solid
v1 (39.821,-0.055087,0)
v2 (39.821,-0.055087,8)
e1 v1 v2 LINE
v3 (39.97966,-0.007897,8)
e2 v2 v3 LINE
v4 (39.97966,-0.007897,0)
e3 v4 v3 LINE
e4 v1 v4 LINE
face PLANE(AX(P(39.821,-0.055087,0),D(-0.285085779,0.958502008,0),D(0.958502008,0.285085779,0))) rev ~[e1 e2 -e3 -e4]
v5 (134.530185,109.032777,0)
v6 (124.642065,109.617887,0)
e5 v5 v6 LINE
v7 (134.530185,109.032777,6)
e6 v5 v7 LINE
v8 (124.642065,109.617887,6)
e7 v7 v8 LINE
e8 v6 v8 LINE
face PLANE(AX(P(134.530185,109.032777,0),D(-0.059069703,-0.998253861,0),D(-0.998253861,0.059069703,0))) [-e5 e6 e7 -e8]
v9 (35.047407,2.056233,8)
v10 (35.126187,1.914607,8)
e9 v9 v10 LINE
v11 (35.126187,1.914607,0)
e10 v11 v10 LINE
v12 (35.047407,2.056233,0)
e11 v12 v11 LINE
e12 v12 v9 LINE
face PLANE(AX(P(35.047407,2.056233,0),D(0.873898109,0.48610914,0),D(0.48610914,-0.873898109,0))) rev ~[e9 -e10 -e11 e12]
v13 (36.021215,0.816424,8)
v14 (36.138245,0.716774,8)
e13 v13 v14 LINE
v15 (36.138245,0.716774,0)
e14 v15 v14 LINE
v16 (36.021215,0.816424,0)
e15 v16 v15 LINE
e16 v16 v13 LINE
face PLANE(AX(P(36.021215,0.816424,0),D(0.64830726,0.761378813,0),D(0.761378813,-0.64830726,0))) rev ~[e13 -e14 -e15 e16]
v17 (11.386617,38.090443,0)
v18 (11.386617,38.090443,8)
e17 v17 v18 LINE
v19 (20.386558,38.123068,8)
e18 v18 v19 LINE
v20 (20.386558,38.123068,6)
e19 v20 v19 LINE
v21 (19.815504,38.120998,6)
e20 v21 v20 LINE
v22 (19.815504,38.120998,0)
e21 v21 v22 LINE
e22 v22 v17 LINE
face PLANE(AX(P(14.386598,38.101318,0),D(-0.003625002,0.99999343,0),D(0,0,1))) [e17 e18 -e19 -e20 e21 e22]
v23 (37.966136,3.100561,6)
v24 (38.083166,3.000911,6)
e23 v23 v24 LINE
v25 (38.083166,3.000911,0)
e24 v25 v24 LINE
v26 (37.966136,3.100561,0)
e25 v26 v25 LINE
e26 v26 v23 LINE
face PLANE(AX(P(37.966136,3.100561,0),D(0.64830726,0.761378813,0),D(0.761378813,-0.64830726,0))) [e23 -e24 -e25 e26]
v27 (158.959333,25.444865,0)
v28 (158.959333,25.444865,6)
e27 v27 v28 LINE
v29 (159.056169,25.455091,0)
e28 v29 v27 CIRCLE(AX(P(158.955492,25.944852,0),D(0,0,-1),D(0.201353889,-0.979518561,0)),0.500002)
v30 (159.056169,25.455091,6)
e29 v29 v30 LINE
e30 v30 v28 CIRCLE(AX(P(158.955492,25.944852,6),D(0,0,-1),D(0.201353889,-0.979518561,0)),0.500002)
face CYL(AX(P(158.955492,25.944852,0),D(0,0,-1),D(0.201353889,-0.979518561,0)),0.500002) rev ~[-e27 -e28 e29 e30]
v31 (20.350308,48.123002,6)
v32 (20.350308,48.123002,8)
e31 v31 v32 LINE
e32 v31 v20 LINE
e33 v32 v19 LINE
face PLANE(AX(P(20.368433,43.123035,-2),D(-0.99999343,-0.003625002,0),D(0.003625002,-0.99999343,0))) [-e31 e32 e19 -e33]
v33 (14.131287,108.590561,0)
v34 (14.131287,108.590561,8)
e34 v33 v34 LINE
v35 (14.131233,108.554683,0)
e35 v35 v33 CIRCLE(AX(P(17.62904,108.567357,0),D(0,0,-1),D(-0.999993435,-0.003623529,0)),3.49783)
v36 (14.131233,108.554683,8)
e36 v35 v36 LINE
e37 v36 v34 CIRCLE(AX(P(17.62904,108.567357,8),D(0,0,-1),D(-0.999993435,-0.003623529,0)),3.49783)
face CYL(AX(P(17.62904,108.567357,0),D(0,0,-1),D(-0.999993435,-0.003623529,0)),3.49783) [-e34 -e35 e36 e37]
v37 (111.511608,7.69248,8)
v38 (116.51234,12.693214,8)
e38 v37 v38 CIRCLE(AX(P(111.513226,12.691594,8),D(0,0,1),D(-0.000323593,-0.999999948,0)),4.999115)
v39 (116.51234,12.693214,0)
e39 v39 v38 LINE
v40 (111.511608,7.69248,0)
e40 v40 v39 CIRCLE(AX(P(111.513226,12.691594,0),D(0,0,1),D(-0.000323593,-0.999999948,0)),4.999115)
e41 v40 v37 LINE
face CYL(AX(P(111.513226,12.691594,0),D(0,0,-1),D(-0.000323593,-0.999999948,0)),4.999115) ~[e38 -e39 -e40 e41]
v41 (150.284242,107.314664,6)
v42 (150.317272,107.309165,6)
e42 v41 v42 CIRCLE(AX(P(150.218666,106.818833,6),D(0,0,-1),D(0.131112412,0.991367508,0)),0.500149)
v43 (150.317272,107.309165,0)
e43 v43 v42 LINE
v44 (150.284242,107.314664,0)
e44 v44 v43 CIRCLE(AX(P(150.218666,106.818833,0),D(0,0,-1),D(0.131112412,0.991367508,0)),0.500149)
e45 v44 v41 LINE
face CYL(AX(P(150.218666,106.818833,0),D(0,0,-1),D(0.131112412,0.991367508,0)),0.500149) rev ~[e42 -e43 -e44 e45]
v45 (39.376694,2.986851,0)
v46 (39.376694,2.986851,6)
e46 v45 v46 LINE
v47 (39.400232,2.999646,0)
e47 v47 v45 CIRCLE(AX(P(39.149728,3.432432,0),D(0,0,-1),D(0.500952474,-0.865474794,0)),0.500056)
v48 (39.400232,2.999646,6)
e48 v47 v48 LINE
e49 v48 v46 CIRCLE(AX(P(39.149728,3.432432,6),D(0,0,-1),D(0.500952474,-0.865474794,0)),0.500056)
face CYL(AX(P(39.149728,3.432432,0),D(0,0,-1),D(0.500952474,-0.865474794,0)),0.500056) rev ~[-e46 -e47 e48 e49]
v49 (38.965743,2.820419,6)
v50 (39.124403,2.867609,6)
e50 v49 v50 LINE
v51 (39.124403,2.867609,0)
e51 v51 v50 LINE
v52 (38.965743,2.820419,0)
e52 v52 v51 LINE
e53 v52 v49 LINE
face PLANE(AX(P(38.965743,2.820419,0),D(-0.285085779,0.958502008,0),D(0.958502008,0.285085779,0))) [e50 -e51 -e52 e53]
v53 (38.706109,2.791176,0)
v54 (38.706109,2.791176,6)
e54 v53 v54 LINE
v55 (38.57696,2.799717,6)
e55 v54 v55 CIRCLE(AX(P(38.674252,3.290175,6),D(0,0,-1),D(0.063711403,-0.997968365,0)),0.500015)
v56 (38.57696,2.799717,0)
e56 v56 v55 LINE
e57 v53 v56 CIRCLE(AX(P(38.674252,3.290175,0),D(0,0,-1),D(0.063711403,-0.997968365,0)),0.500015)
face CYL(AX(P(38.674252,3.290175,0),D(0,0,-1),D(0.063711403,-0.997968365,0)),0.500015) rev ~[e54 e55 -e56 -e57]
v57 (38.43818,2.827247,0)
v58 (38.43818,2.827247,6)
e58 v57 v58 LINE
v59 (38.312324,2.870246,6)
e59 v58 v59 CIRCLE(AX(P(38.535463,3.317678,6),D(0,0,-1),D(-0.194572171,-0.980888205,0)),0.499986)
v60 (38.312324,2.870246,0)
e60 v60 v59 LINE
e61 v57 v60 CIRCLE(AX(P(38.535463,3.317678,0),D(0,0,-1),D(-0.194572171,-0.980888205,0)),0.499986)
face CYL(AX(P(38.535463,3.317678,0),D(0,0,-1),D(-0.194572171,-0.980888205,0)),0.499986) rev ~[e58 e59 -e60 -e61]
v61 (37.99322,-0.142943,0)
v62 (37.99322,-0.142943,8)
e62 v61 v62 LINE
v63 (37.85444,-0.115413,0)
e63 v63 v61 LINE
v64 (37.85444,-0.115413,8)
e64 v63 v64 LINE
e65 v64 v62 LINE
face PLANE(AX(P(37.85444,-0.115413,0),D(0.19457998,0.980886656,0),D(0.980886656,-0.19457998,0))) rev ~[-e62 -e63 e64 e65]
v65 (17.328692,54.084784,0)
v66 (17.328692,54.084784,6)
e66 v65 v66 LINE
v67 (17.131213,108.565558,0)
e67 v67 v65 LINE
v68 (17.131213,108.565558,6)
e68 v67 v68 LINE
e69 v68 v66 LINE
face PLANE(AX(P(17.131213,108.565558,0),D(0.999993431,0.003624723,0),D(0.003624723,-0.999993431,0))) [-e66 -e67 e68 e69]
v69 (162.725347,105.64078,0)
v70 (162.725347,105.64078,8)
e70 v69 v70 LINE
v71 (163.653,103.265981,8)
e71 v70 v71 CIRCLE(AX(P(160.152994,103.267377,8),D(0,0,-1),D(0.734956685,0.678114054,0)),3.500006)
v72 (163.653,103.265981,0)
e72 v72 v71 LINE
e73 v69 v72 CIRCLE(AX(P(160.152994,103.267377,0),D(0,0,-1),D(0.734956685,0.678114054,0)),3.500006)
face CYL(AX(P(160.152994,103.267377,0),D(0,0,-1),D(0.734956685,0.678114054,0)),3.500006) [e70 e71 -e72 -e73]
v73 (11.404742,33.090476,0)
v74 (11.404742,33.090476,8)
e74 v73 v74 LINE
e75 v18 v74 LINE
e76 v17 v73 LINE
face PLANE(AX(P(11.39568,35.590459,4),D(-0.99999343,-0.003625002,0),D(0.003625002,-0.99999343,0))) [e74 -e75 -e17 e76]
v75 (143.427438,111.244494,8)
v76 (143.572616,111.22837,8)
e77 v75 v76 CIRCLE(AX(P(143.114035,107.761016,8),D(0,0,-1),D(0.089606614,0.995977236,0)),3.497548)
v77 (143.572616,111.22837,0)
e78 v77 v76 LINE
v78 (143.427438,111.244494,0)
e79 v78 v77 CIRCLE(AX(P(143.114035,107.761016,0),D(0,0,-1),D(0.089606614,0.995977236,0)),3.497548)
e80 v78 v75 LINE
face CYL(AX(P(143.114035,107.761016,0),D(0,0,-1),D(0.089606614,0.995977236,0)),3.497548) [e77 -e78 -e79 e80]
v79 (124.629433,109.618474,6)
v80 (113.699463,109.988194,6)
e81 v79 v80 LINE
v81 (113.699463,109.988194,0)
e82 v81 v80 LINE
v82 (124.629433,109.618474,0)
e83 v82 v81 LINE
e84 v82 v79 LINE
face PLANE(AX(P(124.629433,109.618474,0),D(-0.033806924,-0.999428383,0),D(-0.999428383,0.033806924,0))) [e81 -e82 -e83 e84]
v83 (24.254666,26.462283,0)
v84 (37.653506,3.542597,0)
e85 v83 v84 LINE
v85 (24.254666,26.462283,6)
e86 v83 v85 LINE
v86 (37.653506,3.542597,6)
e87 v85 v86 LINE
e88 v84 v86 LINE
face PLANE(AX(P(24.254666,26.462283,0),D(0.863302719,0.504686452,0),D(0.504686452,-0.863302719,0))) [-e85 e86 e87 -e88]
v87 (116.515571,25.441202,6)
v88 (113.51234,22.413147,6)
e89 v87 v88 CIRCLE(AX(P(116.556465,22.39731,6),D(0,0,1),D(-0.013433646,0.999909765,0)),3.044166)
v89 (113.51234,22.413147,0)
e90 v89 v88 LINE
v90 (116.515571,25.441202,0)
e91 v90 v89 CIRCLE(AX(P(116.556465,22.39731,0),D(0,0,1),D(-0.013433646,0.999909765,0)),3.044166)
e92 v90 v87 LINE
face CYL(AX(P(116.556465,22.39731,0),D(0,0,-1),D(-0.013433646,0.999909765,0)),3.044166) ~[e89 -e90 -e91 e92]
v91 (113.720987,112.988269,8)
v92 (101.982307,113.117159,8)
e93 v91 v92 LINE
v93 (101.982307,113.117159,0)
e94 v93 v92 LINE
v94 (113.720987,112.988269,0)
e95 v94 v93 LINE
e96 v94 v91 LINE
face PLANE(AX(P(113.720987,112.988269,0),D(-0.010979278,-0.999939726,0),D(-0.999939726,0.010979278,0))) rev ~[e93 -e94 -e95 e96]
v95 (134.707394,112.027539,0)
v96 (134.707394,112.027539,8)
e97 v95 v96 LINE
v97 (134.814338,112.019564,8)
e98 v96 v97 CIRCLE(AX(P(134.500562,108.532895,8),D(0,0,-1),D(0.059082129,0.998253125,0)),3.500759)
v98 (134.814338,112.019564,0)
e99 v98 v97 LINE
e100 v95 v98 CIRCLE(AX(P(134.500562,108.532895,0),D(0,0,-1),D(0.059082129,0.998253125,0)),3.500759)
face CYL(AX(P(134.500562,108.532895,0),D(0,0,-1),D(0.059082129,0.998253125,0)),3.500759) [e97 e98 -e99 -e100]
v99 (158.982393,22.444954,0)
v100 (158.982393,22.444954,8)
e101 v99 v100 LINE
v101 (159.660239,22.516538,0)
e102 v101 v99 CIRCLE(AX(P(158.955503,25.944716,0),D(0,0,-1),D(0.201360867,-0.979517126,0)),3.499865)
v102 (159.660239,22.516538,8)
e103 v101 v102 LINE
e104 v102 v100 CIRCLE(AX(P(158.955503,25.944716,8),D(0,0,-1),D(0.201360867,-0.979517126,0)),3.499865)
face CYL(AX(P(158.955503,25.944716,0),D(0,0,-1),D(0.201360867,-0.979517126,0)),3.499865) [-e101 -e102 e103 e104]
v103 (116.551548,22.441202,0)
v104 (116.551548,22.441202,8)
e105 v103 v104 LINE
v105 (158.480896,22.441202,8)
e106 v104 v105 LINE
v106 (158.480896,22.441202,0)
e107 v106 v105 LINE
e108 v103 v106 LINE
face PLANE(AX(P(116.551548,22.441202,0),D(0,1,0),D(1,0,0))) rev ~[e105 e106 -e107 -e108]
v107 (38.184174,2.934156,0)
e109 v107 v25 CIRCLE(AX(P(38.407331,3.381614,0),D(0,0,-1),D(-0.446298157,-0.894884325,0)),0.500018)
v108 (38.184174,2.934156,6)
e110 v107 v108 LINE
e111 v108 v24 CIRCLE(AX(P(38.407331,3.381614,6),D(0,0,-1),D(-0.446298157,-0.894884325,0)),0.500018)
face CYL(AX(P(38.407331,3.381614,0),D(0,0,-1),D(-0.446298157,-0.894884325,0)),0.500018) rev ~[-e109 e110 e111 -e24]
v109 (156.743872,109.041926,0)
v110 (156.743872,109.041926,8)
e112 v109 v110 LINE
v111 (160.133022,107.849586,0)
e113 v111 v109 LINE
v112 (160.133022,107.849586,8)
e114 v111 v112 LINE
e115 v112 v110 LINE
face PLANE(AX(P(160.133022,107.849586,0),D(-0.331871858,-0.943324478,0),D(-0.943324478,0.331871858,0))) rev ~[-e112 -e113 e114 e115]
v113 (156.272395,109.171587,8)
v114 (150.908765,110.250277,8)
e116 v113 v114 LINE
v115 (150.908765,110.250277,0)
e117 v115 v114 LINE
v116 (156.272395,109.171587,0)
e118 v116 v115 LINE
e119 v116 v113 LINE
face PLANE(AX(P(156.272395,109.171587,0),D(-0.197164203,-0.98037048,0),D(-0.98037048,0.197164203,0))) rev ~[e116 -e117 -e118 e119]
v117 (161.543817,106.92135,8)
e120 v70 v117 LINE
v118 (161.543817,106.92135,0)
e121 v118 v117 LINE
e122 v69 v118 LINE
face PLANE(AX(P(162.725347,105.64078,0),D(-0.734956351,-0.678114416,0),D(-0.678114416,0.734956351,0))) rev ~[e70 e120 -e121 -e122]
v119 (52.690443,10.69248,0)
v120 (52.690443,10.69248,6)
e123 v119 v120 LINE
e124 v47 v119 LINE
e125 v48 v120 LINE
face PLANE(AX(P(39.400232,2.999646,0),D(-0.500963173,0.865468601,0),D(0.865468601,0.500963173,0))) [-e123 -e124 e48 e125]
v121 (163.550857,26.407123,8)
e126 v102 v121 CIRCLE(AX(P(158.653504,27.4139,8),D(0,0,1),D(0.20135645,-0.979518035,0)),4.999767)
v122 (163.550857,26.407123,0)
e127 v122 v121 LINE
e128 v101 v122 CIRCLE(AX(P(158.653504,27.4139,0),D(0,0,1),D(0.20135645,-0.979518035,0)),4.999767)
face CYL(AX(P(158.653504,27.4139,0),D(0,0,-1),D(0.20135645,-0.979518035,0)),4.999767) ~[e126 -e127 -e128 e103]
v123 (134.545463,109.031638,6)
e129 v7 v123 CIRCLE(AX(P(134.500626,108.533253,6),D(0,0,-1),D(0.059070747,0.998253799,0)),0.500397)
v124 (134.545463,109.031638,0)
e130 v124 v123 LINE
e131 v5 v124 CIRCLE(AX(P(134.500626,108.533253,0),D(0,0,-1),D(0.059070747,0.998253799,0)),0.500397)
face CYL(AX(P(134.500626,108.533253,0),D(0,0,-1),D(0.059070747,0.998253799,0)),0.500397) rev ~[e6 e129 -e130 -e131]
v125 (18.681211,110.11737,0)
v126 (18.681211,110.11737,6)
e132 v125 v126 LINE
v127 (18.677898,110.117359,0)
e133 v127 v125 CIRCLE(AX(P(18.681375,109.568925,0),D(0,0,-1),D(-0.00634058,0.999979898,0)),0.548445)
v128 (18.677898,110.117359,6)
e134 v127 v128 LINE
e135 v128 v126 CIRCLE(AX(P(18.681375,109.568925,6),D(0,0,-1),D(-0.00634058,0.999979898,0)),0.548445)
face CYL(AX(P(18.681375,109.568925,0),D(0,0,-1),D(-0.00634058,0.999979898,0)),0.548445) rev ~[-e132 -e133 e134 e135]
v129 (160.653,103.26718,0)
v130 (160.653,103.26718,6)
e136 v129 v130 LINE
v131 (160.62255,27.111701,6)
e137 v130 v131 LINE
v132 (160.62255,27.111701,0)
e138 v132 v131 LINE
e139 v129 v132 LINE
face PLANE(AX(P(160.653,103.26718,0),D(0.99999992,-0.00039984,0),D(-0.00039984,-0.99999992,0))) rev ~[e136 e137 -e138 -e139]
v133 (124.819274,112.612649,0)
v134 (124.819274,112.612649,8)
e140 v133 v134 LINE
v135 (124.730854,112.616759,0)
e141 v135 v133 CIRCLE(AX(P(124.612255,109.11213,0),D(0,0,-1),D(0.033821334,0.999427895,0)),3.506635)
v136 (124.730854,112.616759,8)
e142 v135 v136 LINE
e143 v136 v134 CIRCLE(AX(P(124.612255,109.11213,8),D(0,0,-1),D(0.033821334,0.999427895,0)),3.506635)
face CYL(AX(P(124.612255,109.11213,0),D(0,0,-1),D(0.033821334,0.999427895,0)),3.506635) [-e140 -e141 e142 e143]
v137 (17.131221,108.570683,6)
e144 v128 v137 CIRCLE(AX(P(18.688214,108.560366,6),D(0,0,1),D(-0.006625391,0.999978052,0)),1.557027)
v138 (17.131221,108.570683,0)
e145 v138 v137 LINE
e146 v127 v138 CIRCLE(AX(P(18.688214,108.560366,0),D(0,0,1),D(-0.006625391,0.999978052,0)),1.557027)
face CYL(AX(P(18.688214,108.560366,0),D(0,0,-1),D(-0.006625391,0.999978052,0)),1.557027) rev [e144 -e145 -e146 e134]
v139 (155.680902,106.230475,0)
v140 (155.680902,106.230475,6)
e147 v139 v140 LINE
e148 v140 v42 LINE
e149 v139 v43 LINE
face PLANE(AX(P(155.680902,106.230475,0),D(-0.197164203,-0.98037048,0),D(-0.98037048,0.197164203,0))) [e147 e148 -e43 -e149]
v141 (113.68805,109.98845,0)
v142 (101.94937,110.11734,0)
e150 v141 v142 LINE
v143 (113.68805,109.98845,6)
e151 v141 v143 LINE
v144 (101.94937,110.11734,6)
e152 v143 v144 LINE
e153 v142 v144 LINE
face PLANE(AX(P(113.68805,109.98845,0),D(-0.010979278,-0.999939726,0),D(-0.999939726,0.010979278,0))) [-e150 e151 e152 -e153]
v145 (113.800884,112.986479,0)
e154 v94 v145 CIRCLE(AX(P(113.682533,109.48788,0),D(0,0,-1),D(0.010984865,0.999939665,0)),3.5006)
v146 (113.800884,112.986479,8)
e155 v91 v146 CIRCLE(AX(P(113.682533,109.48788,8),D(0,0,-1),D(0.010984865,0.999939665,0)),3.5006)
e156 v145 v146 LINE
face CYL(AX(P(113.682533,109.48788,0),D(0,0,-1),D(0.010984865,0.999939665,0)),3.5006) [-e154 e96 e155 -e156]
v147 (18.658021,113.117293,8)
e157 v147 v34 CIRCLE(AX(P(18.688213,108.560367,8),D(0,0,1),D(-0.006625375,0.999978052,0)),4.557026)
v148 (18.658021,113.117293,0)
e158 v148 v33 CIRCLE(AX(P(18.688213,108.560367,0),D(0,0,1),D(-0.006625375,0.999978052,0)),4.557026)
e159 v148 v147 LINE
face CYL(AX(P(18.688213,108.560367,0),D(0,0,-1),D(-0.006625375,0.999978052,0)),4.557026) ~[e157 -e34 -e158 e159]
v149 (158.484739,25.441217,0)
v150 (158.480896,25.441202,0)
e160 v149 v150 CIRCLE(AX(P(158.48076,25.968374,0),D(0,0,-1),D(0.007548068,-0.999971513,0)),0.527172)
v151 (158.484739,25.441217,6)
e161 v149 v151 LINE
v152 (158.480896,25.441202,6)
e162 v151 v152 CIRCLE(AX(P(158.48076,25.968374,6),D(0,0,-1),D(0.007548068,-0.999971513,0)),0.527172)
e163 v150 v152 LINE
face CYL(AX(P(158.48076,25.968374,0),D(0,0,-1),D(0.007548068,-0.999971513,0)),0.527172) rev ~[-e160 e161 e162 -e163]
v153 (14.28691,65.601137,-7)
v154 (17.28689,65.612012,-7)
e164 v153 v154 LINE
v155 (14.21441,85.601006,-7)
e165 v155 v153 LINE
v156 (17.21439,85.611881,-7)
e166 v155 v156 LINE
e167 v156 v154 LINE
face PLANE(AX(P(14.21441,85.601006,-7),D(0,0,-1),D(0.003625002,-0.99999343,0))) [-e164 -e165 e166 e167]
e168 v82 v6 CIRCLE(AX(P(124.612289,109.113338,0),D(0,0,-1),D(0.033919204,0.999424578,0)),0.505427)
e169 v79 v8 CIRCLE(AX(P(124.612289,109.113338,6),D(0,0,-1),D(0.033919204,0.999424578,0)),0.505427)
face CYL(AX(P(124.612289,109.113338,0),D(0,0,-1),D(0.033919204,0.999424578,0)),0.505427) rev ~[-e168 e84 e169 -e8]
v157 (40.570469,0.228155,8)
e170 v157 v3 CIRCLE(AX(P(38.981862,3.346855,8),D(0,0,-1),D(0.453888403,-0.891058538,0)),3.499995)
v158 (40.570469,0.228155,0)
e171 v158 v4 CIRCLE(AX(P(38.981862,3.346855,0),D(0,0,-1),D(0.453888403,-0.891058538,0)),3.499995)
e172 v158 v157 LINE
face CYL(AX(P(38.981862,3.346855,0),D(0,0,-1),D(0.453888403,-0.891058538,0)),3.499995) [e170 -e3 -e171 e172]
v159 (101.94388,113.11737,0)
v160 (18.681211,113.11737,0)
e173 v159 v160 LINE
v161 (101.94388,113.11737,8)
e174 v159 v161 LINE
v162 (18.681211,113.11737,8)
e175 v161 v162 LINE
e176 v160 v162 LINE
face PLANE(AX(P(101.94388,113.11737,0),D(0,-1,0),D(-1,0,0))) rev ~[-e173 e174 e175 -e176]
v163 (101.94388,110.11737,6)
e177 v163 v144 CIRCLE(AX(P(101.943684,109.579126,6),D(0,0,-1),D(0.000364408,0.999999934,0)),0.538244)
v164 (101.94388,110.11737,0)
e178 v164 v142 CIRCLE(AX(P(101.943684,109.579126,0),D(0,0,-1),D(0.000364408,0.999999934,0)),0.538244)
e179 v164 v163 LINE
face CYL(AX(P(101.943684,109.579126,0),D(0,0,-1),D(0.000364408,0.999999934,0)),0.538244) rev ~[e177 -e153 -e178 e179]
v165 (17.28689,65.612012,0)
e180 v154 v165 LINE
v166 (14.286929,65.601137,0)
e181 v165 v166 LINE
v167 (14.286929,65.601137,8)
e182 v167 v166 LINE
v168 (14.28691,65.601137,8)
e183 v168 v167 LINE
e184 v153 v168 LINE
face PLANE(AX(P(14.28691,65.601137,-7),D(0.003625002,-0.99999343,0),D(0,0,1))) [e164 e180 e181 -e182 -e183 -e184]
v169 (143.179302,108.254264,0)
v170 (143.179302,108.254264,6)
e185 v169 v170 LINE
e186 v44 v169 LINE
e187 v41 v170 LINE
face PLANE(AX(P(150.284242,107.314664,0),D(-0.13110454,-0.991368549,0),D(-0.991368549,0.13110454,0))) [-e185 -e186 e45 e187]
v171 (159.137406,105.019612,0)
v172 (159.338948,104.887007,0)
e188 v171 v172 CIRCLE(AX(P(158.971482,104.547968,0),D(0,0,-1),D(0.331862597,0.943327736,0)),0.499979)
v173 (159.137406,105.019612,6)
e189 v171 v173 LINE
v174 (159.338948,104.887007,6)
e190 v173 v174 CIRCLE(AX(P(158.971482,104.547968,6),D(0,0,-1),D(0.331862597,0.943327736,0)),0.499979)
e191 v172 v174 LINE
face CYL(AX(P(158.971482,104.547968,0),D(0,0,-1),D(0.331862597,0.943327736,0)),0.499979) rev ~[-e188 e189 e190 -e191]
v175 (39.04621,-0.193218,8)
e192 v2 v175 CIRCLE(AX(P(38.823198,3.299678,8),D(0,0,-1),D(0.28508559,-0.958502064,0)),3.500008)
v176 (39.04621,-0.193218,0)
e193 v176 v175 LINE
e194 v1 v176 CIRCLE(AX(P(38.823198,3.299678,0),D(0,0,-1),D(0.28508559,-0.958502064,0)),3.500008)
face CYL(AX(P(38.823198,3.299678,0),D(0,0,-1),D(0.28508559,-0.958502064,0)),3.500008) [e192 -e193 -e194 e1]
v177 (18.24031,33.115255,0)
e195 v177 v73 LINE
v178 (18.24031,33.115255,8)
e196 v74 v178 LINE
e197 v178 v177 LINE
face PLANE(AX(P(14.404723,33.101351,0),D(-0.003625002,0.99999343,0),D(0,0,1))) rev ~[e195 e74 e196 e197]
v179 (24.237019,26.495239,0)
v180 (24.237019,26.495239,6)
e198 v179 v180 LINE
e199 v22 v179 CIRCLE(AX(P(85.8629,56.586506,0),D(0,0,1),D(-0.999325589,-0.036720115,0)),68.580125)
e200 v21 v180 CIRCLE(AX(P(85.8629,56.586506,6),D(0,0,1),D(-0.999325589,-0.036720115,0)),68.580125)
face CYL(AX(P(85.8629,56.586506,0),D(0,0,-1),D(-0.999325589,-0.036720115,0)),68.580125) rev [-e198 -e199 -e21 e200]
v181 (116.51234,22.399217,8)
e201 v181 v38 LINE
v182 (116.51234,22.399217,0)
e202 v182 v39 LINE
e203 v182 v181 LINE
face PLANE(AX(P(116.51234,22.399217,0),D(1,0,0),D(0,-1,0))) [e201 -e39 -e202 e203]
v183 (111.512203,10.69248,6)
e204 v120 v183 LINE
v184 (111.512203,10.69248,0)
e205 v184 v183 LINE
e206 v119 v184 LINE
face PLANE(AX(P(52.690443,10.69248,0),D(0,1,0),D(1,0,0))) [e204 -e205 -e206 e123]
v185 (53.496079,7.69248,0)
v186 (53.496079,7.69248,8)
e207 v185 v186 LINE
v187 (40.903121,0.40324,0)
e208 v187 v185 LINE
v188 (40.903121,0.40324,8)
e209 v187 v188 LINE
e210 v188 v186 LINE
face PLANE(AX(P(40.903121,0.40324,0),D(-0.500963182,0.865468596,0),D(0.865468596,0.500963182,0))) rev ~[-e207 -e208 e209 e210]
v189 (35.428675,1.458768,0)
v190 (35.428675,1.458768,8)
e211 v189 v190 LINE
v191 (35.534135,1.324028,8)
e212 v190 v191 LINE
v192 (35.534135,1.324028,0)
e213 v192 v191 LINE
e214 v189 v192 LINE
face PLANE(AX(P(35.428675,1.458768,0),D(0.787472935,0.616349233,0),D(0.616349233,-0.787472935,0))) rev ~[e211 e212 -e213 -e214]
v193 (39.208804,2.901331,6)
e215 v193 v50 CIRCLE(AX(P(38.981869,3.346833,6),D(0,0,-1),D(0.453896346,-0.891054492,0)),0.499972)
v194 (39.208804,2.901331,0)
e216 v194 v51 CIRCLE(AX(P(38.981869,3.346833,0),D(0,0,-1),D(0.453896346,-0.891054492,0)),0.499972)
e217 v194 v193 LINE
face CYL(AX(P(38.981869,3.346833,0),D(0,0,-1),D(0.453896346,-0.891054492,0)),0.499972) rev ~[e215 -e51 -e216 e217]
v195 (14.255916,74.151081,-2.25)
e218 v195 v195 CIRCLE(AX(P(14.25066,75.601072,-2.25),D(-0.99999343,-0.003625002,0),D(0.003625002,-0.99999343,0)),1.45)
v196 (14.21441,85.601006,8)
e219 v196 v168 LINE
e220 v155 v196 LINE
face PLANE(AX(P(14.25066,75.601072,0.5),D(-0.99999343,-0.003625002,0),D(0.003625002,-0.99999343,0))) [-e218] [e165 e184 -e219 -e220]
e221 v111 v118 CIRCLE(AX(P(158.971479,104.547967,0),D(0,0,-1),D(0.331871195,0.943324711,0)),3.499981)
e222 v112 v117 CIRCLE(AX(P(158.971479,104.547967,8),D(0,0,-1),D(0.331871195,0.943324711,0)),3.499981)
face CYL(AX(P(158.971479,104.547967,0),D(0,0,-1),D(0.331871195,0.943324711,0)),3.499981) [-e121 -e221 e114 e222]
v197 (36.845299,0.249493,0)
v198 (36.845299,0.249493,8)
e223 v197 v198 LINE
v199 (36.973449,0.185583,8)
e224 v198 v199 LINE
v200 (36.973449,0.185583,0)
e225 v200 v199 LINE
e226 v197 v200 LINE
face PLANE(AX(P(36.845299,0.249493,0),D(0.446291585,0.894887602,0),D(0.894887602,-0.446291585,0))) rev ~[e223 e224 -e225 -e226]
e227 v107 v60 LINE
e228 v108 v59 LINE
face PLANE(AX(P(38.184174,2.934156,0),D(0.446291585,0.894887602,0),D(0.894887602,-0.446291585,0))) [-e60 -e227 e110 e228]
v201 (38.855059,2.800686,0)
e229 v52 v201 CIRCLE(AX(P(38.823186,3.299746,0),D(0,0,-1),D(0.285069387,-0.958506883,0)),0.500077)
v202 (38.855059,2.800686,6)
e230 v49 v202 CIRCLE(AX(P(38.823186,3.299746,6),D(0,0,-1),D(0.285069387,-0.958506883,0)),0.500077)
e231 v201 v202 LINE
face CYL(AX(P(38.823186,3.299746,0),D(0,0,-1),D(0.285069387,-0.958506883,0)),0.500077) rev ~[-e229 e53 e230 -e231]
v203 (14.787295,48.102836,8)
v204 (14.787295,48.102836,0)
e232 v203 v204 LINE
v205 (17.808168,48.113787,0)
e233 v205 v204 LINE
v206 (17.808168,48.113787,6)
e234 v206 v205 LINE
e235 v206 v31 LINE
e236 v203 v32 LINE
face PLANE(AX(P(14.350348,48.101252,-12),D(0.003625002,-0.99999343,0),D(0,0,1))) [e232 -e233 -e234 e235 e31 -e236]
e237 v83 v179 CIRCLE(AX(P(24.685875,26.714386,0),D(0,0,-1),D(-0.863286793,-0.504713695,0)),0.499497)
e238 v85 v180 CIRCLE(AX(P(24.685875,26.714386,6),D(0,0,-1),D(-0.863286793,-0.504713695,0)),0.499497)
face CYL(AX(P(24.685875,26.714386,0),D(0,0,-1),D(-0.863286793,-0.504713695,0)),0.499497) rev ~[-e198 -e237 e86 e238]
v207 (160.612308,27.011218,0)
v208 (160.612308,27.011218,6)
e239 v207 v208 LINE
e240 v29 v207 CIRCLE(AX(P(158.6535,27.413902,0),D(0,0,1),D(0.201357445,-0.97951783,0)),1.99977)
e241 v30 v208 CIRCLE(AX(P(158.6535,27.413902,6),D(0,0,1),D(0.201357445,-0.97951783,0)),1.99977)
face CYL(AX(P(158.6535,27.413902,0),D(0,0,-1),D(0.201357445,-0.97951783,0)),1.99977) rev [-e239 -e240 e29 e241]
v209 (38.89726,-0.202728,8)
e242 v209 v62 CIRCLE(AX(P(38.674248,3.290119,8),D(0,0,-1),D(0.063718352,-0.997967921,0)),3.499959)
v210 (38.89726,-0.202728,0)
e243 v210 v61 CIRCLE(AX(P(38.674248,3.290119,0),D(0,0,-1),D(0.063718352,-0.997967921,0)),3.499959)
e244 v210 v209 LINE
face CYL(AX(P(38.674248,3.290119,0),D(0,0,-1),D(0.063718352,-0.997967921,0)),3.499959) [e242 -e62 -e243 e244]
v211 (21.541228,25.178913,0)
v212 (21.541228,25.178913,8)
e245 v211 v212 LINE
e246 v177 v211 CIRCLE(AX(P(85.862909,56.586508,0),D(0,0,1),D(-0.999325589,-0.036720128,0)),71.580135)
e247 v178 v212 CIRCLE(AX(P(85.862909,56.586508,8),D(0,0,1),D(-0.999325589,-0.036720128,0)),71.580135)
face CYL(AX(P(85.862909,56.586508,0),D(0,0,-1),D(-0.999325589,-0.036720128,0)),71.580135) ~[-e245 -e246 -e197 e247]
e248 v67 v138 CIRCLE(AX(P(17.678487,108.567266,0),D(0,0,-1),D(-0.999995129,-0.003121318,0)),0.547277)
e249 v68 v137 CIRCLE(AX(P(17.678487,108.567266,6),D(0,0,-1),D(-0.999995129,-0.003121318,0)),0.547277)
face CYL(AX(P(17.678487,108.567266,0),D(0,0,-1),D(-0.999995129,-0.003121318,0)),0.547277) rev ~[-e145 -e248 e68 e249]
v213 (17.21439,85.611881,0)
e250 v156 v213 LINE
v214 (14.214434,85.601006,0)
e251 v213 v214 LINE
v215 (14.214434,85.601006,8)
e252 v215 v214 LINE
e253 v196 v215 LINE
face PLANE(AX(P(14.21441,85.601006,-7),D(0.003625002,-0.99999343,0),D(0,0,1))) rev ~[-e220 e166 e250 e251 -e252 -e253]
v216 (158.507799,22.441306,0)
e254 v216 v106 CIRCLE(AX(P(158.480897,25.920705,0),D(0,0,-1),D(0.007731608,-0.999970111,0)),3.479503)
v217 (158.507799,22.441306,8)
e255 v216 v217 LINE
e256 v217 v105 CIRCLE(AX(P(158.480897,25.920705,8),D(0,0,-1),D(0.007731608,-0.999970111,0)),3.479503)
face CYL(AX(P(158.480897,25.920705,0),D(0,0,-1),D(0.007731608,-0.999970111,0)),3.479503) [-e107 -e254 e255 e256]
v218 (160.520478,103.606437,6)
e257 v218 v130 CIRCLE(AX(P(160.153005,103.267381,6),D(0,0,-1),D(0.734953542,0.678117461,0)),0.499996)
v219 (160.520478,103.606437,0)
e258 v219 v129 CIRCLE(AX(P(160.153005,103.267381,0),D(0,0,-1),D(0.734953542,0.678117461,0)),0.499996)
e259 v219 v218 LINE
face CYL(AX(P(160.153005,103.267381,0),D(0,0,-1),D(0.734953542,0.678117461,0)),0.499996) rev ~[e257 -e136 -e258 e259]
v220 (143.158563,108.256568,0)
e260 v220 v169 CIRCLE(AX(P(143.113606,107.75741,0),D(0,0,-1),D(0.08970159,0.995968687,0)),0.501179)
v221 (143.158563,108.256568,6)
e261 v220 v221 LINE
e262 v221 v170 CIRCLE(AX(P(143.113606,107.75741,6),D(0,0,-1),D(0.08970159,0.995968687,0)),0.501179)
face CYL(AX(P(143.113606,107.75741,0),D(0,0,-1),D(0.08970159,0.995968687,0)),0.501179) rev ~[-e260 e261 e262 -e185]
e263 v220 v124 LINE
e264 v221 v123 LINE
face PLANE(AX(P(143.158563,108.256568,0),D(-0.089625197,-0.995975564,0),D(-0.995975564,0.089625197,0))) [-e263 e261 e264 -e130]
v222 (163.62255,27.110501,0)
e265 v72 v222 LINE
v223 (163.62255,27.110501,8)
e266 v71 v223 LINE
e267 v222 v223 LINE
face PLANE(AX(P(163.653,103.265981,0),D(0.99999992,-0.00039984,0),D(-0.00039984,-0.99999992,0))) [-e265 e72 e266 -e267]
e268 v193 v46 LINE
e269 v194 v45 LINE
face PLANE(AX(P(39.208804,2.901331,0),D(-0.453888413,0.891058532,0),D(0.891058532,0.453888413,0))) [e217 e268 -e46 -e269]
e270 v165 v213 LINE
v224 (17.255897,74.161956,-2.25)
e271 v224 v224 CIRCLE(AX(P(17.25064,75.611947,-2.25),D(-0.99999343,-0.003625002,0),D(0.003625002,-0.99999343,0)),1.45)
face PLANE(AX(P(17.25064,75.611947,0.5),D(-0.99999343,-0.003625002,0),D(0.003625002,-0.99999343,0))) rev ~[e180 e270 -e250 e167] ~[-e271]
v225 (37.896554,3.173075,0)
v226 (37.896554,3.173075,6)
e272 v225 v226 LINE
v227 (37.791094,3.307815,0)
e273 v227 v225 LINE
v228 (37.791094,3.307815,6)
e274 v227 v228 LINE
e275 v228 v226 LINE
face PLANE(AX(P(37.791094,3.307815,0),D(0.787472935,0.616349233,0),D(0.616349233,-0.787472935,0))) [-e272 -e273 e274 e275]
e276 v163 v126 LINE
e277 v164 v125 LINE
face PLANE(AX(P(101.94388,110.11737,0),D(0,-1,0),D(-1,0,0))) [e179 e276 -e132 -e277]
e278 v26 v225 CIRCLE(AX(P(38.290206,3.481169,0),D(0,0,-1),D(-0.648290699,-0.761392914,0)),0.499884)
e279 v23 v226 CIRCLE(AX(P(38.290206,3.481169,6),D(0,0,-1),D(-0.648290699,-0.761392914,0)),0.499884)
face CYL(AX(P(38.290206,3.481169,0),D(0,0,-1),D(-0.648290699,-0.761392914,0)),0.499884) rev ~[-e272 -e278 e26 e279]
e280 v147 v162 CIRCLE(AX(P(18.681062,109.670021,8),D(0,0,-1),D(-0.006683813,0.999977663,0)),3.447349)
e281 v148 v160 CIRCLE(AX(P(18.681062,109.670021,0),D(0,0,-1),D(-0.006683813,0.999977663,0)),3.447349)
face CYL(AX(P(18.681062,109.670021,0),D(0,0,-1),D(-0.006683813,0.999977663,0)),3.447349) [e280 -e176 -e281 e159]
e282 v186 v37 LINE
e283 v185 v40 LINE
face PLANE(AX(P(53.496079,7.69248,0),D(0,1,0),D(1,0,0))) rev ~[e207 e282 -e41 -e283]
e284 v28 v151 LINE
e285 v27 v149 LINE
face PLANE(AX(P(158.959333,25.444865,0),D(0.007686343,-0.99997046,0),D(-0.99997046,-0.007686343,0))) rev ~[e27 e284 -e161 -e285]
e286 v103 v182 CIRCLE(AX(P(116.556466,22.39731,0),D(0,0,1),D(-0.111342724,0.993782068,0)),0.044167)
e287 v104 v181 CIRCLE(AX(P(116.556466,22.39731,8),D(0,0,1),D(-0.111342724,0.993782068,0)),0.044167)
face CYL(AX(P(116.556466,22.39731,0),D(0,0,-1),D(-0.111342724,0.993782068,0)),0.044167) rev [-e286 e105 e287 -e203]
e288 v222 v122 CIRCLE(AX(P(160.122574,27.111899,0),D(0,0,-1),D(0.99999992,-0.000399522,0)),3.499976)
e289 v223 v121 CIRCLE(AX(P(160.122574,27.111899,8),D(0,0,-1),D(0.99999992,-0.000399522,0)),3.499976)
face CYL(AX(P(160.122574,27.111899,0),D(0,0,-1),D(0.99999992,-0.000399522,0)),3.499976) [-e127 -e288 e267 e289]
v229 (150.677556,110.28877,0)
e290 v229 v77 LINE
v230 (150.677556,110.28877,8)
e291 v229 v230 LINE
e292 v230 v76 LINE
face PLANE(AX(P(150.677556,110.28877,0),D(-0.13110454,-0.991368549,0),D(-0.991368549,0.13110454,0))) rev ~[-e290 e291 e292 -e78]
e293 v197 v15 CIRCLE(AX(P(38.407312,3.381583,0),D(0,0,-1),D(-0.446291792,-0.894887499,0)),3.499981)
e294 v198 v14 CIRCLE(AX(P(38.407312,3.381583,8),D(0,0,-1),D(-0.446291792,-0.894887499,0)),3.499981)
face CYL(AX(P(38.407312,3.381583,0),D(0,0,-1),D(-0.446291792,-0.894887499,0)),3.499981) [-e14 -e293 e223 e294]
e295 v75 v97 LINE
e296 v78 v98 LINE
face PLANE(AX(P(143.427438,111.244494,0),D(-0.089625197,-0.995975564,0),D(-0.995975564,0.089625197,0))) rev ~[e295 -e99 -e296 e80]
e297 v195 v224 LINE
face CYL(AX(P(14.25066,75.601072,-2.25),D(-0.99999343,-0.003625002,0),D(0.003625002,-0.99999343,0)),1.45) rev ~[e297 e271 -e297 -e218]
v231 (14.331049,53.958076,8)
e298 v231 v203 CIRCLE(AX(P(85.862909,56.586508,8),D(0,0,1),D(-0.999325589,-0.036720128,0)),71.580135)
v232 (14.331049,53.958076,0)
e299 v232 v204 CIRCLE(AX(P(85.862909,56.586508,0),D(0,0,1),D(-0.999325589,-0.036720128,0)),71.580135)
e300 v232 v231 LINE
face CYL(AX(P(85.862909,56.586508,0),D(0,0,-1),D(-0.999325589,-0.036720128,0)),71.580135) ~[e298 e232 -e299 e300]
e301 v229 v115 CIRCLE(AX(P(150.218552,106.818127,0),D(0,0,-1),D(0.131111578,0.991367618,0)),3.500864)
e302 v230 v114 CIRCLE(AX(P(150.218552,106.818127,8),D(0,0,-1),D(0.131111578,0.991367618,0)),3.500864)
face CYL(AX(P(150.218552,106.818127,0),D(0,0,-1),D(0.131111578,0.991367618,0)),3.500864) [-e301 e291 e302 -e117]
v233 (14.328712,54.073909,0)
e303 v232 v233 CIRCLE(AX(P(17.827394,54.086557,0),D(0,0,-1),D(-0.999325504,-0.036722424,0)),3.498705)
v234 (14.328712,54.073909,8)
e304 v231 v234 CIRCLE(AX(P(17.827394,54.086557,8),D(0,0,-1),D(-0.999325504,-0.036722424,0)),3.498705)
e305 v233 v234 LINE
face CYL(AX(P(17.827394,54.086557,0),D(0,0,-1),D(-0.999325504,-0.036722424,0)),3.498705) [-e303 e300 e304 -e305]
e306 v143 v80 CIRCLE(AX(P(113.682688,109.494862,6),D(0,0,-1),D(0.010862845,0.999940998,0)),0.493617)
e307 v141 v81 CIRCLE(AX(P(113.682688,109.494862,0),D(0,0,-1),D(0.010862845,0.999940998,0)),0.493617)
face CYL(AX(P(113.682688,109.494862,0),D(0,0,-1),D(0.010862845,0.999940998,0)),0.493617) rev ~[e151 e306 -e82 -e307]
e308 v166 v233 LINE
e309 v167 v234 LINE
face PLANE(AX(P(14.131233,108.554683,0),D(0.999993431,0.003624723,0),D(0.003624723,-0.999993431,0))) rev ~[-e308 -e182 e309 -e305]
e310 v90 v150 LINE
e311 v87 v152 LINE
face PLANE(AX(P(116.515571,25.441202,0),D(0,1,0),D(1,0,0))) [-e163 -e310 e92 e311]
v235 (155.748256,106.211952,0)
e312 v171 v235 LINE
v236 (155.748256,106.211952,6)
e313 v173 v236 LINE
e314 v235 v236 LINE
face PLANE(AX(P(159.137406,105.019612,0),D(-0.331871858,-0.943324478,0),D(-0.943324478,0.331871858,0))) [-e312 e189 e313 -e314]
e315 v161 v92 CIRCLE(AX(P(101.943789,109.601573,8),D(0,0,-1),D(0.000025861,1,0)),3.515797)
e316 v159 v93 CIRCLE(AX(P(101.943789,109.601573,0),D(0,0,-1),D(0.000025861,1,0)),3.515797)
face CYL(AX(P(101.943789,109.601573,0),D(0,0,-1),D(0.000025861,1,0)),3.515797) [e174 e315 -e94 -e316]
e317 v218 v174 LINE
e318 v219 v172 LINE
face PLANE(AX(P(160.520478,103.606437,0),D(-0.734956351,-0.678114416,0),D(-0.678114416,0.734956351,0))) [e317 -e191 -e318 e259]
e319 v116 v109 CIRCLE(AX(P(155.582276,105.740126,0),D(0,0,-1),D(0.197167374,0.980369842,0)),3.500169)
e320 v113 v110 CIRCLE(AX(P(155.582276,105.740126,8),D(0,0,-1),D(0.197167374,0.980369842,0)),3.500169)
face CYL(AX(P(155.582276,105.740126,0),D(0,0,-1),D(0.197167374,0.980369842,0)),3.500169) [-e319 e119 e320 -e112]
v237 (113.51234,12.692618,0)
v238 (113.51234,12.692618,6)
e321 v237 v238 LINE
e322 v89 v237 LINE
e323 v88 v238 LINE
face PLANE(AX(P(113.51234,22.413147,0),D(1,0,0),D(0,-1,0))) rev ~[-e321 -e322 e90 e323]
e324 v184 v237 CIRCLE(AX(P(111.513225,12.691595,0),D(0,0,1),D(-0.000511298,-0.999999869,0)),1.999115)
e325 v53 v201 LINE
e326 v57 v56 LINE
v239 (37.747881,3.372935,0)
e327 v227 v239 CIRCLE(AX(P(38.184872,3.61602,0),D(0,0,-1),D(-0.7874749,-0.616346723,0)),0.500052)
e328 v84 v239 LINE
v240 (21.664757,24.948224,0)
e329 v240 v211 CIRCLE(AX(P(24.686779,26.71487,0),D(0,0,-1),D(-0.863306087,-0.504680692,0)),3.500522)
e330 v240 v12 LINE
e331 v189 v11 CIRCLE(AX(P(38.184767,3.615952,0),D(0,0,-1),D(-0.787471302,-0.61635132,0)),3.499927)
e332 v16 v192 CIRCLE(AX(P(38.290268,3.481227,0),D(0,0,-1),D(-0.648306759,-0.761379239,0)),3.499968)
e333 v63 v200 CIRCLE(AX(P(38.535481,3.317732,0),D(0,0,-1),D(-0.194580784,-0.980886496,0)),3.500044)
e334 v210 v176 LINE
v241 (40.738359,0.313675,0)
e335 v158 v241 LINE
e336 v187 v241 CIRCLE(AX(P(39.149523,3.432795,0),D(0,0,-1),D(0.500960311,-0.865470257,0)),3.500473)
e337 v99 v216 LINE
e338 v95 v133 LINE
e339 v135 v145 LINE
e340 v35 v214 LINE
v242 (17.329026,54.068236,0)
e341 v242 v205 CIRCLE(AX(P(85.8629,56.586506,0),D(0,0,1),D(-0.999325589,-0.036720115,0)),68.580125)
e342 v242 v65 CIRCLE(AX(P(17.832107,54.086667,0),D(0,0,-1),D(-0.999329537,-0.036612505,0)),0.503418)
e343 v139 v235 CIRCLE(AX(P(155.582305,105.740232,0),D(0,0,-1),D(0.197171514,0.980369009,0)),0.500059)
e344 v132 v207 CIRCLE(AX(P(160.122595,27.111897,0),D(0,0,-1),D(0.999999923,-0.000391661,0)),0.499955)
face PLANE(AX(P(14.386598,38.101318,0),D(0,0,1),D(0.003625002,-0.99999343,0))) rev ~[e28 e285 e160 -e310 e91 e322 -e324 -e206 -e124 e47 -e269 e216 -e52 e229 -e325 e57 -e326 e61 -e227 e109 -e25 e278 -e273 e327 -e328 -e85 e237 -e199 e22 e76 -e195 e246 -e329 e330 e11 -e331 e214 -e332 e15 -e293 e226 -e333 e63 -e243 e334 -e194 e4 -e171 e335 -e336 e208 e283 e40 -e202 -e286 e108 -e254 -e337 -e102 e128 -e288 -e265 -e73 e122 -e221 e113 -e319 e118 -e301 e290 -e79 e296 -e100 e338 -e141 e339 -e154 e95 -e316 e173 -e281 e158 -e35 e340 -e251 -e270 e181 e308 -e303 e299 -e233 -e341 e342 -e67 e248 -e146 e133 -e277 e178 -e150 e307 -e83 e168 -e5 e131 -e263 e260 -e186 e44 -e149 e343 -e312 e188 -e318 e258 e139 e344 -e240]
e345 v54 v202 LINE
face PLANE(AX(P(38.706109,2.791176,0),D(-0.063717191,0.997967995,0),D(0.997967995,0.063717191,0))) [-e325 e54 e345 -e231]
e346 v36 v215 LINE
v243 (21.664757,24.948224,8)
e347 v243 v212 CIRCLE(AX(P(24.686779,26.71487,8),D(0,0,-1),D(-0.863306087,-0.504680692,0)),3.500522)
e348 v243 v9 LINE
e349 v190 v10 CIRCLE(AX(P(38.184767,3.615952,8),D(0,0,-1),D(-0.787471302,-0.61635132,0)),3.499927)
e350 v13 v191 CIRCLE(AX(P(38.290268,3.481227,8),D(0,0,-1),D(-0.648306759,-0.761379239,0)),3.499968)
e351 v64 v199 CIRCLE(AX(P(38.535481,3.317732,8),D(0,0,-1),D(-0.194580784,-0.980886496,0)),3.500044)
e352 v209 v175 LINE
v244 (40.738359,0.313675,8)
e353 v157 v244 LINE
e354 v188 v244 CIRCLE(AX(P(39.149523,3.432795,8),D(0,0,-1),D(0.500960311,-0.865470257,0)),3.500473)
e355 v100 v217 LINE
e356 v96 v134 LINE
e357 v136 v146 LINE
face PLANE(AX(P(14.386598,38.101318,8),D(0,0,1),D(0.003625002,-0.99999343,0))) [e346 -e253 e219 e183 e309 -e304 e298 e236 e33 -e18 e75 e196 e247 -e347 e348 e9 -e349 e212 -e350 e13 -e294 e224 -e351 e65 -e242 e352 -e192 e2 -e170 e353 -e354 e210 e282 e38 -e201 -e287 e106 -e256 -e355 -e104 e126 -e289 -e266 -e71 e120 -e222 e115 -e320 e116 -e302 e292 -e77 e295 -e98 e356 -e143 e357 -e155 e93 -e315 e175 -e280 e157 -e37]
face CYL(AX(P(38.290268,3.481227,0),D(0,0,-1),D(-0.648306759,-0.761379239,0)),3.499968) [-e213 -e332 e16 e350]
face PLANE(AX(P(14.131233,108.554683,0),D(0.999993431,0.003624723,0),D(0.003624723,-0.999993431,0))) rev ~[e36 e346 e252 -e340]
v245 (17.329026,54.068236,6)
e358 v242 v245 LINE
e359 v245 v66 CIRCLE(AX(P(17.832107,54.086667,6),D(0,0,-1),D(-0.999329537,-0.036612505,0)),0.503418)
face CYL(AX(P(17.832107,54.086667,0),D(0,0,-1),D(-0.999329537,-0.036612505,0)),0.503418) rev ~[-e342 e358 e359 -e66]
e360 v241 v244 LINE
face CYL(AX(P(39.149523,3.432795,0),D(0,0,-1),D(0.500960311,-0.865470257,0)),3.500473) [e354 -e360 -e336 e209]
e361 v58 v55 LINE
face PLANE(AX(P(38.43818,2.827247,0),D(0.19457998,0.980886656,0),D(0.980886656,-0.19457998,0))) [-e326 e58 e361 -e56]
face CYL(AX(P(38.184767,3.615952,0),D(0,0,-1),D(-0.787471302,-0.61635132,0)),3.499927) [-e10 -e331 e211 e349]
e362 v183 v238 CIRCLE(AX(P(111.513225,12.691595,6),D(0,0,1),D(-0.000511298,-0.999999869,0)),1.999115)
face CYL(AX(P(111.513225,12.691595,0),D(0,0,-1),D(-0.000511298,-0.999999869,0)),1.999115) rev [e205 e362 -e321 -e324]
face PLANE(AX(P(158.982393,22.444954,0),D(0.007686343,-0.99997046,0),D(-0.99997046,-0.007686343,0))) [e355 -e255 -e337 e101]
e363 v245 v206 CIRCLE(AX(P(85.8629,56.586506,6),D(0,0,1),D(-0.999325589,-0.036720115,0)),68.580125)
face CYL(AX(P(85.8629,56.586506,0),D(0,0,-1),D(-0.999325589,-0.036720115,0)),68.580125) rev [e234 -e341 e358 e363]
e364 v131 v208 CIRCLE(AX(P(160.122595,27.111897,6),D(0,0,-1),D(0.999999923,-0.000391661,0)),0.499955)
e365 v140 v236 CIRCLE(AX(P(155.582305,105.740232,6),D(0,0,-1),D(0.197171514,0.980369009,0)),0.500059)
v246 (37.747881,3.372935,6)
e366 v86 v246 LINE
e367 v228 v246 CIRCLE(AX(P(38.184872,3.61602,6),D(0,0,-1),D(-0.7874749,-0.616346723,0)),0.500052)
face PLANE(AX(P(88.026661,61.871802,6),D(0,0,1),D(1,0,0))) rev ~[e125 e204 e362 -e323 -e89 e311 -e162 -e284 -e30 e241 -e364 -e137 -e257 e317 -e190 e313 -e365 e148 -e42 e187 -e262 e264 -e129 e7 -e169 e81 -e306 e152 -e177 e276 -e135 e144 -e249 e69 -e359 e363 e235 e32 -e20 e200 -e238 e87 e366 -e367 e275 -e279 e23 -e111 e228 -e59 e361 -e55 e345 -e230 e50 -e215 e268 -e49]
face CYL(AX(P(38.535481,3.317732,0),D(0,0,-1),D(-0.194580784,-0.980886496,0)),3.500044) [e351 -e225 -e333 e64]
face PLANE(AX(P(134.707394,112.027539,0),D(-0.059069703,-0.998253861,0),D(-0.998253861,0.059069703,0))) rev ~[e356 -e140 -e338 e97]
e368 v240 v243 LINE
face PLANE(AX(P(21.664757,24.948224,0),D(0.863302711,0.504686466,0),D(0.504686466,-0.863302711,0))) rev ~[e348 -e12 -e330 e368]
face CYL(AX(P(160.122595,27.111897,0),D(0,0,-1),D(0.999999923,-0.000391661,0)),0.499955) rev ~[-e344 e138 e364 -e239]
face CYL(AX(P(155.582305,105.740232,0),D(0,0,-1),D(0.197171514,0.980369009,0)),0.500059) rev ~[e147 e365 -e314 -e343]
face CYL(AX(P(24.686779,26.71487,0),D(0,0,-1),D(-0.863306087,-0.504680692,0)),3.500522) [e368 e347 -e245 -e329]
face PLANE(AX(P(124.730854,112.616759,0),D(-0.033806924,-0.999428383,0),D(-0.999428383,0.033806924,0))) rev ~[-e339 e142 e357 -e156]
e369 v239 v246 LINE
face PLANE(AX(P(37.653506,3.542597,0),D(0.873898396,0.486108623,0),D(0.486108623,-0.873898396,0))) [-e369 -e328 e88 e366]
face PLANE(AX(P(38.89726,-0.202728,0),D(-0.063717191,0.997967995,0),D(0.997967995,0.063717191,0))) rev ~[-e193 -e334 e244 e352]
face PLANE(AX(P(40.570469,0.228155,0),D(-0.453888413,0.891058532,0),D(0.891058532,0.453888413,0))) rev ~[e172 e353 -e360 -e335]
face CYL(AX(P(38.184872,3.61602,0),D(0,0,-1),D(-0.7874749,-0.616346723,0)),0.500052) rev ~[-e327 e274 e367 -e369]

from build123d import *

# Parameters (mm, degrees)
PAD009_DEPTH    = 8
POCKET005_DEPTH = 6
SKETCH044_W     = 20
SKETCH044_H     = 15
PAD010_DEPTH    = 3
SKETCH045_R     = 1.45
POCKET006_DEPTH = 149.538323
SKETCH046_W     = 10
SKETCH046_H     = 20
POCKET007_DEPTH = 6
SKETCH047_W     = 5
SKETCH047_H     = 8
PAD011_DEPTH    = 4
PAD012_DEPTH    = 3


with BuildPart() as part:
    # Sketch042 → Pad009 (new body)
    with BuildSketch(Plane.XY):
        with BuildLine():
            ThreePointArc((14.331049, 53.958076), (14.329401, 54.015983), (14.328712, 54.073909))
            Line((14.131233, 108.554683), (14.328712, 54.073909))
            ThreePointArc((14.131233, 108.554683), (14.131214, 108.572623), (14.131287, 108.590561))
            ThreePointArc((18.658021, 113.117293), (15.46591, 111.782672), (14.131287, 108.590561))
            ThreePointArc((18.658021, 113.117293), (18.669616, 113.117351), (18.681211, 113.11737))
            Line((101.94388, 113.11737), (18.681211, 113.11737))
            ThreePointArc((101.94388, 113.11737), (101.963094, 113.117317), (101.982307, 113.117159))
            Line((113.720987, 112.988269), (101.982307, 113.117159))
            ThreePointArc((113.720987, 112.988269), (113.760941, 112.987602), (113.800884, 112.986479))
            Line((124.730854, 112.616759), (113.800884, 112.986479))
            ThreePointArc((124.730854, 112.616759), (124.775077, 112.614983), (124.819274, 112.612649))
            Line((134.707394, 112.027539), (124.819274, 112.612649))
            ThreePointArc((134.707394, 112.027539), (134.760897, 112.023961), (134.814338, 112.019564))
            Line((143.427438, 111.244494), (134.814338, 112.019564))
            ThreePointArc((143.427438, 111.244494), (143.500111, 111.23719), (143.572616, 111.22837))
            Line((150.677556, 110.28877), (143.572616, 111.22837))
            ThreePointArc((150.677556, 110.28877), (150.793483, 110.271459), (150.908765, 110.250277))
            Line((156.272395, 109.171587), (150.908765, 110.250277))
            ThreePointArc((156.272395, 109.171587), (156.5104, 109.115), (156.743872, 109.041926))
            Line((160.133022, 107.849586), (156.743872, 109.041926))
            ThreePointArc((160.133022, 107.849586), (160.895244, 107.471834), (161.543817, 106.92135))
            Line((162.725347, 105.64078), (161.543817, 106.92135))
            ThreePointArc((162.725347, 105.64078), (163.413102, 104.540852), (163.653, 103.265981))
            Line((163.653, 103.265981), (163.62255, 27.110501))
            ThreePointArc((163.62255, 27.110501), (163.60451, 26.756997), (163.550857, 26.407123))
            ThreePointArc((159.660239, 22.516538), (162.188858, 23.878516), (163.550857, 26.407123))
            ThreePointArc((159.660239, 22.516538), (159.323063, 22.464205), (158.982393, 22.444954))
            Line((158.982393, 22.444954), (158.507799, 22.441306))
            ThreePointArc((158.507799, 22.441306), (158.494348, 22.441228), (158.480896, 22.441202))
            Line((116.551548, 22.441202), (158.480896, 22.441202))
            ThreePointArc((116.551548, 22.441202), (116.524186, 22.427455), (116.51234, 22.399217))
            Line((116.51234, 22.399217), (116.51234, 12.693214))
            ThreePointArc((111.511608, 7.69248), (115.048134, 9.156687), (116.51234, 12.693214))
            Line((53.496079, 7.69248), (111.511608, 7.69248))
            Line((40.903121, 0.40324), (53.496079, 7.69248))
            ThreePointArc((40.903121, 0.40324), (40.82134, 0.357354), (40.738359, 0.313675))
            Line((40.570469, 0.228155), (40.738359, 0.313675))
            ThreePointArc((40.570469, 0.228155), (40.28044, 0.096677), (39.97966, -0.007897))
            Line((39.821, -0.055087), (39.97966, -0.007897))
            ThreePointArc((39.821, -0.055087), (39.4375, -0.145999), (39.04621, -0.193218))
            Line((38.89726, -0.202728), (39.04621, -0.193218))
            ThreePointArc((38.89726, -0.202728), (38.443297, -0.202212), (37.99322, -0.142943))
            Line((37.85444, -0.115413), (37.99322, -0.142943))
            ThreePointArc((37.85444, -0.115413), (37.403892, 0.005662), (36.973449, 0.185583))
            Line((36.845299, 0.249493), (36.973449, 0.185583))
            ThreePointArc((36.845299, 0.249493), (36.477576, 0.461653), (36.138245, 0.716774))
            Line((36.021215, 0.816424), (36.138245, 0.716774))
            ThreePointArc((36.021215, 0.816424), (35.764889, 1.057957), (35.534135, 1.324028))
            Line((35.428675, 1.458768), (35.534135, 1.324028))
            ThreePointArc((35.428675, 1.458768), (35.268511, 1.680768), (35.126187, 1.914607))
            Line((35.047407, 2.056233), (35.126187, 1.914607))
            Line((21.664757, 24.948224), (35.047407, 2.056233))
            ThreePointArc((21.664757, 24.948224), (21.600836, 25.062414), (21.541228, 25.178913))
            ThreePointArc((14.331049, 53.958076), (16.428723, 39.190834), (21.541228, 25.178913))
        make_face()
    extrude(amount=PAD009_DEPTH)

    # Sketch043 → Pocket005 (cut)
    with BuildSketch(Plane.XY):
        with BuildLine():
            ThreePointArc((17.329026, 54.068236), (19.338784, 39.919906), (24.237019, 26.495239))
            ThreePointArc((24.254666, 26.462283), (24.245534, 26.478596), (24.237019, 26.495239))
            Line((24.254666, 26.462283), (37.653506, 3.542597))
            Line((37.653506, 3.542597), (37.747881, 3.372935))
            ThreePointArc((37.791094, 3.307815), (37.768213, 3.33953), (37.747881, 3.372935))
            Line((37.791094, 3.307815), (37.896554, 3.173075))
            ThreePointArc((37.966136, 3.100561), (37.929518, 3.135065), (37.896554, 3.173075))
            Line((37.966136, 3.100561), (38.083166, 3.000911))
            ThreePointArc((38.184174, 2.934156), (38.131642, 2.964465), (38.083166, 3.000911))
            Line((38.184174, 2.934156), (38.312324, 2.870246))
            ThreePointArc((38.43818, 2.827247), (38.373816, 2.844543), (38.312324, 2.870246))
            Line((38.43818, 2.827247), (38.57696, 2.799717))
            ThreePointArc((38.706109, 2.791176), (38.641257, 2.79125), (38.57696, 2.799717))
            Line((38.706109, 2.791176), (38.855059, 2.800686))
            ThreePointArc((38.965743, 2.820419), (38.910957, 2.807432), (38.855059, 2.800686))
            Line((38.965743, 2.820419), (39.124403, 2.867609))
            ThreePointArc((39.208804, 2.901331), (39.167371, 2.882548), (39.124403, 2.867609))
            Line((39.208804, 2.901331), (39.376694, 2.986851))
            ThreePointArc((39.400232, 2.999646), (39.388549, 2.993091), (39.376694, 2.986851))
            Line((39.400232, 2.999646), (52.690443, 10.69248))
            Line((52.690443, 10.69248), (111.512203, 10.69248))
            ThreePointArc((111.512203, 10.69248), (112.926813, 11.278007), (113.51234, 12.692618))
            Line((113.51234, 22.413147), (113.51234, 12.692618))
            ThreePointArc((116.515571, 25.441202), (114.395073, 24.540983), (113.51234, 22.413147))
            Line((116.515571, 25.441202), (158.480896, 25.441202))
            ThreePointArc((158.484739, 25.441217), (158.482818, 25.441206), (158.480896, 25.441202))
            Line((158.959333, 25.444865), (158.484739, 25.441217))
            ThreePointArc((159.056169, 25.455091), (159.008, 25.447615), (158.959333, 25.444865))
            ThreePointArc((159.056169, 25.455091), (160.067546, 25.999845), (160.612308, 27.011218))
            ThreePointArc((160.62255, 27.111701), (160.619973, 27.0612), (160.612308, 27.011218))
            Line((160.653, 103.26718), (160.62255, 27.111701))
            ThreePointArc((160.520478, 103.606437), (160.618729, 103.449305), (160.653, 103.26718))
            Line((160.520478, 103.606437), (159.338948, 104.887007))
            ThreePointArc((159.137406, 105.019612), (159.246295, 104.965648), (159.338948, 104.887007))
            Line((159.137406, 105.019612), (155.748256, 106.211952))
            ThreePointArc((155.680902, 106.230475), (155.714903, 106.222391), (155.748256, 106.211952))
            Line((155.680902, 106.230475), (150.317272, 107.309165))
            ThreePointArc((150.284242, 107.314664), (150.300803, 107.312191), (150.317272, 107.309165))
            Line((150.284242, 107.314664), (143.179302, 108.254264))
            ThreePointArc((143.158563, 108.256568), (143.168944, 108.255524), (143.179302, 108.254264))
            Line((143.158563, 108.256568), (134.545463, 109.031638))
            ThreePointArc((134.530185, 109.032777), (134.537828, 109.032266), (134.545463, 109.031638))
            Line((134.530185, 109.032777), (124.642065, 109.617887))
            ThreePointArc((124.629433, 109.618474), (124.635751, 109.61822), (124.642065, 109.617887))
            Line((124.629433, 109.618474), (113.699463, 109.988194))
            ThreePointArc((113.68805, 109.98845), (113.693757, 109.988355), (113.699463, 109.988194))
            Line((113.68805, 109.98845), (101.94937, 110.11734))
            ThreePointArc((101.94388, 110.11737), (101.946625, 110.117362), (101.94937, 110.11734))
            Line((101.94388, 110.11737), (18.681211, 110.11737))
            ThreePointArc((18.677898, 110.117359), (18.679554, 110.117367), (18.681211, 110.11737))
            ThreePointArc((18.677898, 110.117359), (17.58723, 109.661351), (17.131221, 108.570683))
            ThreePointArc((17.131213, 108.565558), (17.131211, 108.56812), (17.131221, 108.570683))
            Line((17.131213, 108.565558), (17.328692, 54.084784))
            ThreePointArc((17.329026, 54.068236), (17.328791, 54.076508), (17.328692, 54.084784))
        make_face()
    extrude(amount=POCKET005_DEPTH, mode=Mode.SUBTRACT)

    # Sketch044 → Pad010 (new body)
    with BuildSketch(Plane(origin=(14.524525, 0.052648, 0), x_dir=(0.003625, -0.999993, 0), z_dir=(-0.999993, -0.003625, 0))):
        with Locations((-75.54892, 0.5)):
            Rectangle(SKETCH044_W, SKETCH044_H)
    extrude(amount=-PAD010_DEPTH)

    # Sketch045 (on Face112 of Pad010) → Pocket006 (cut, through all)
    with BuildSketch(Plane(origin=(14.524525, 0.052648, 0), x_dir=(0.003625, -0.999993, 0), z_dir=(-0.999993, -0.003625, 0))):
        with Locations((-75.54892, -2.25)):
            Circle(SKETCH045_R)
    extrude(amount=-POCKET006_DEPTH, mode=Mode.SUBTRACT)

    # Sketch046 (on Face3 of Pocket006) → Pocket007 (cut)
    with BuildSketch(Plane(origin=(14.524525, 0.052648, 0), x_dir=(0.003625, -0.999993, 0), z_dir=(-0.999993, -0.003625, 0))):
        with Locations((-43.04892, -2)):
            Rectangle(SKETCH046_W, SKETCH046_H)
    extrude(amount=-POCKET007_DEPTH, mode=Mode.SUBTRACT)

    # Sketch047 (on Face3 of Pocket007) → Pad011 (new body)
    with BuildSketch(Plane(origin=(14.524525, 0.052648, 0), x_dir=(0.003625, -0.999993, 0), z_dir=(-0.999993, -0.003625, 0))):
        with Locations((-35.54892, 4)):
            Rectangle(SKETCH047_W, SKETCH047_H)
    extrude(amount=-PAD011_DEPTH)

    # Sketch047 (on Face3 of Pocket007) → Pad012 (new body)
    with BuildSketch(Plane(origin=(14.524525, 0.052648, 0), x_dir=(0.003625, -0.999993, 0), z_dir=(-0.999993, -0.003625, 0))):
        with Locations((-35.54892, 4)):
            Rectangle(SKETCH047_W, SKETCH047_H)
    extrude(amount=PAD012_DEPTH)


solid = part.part
